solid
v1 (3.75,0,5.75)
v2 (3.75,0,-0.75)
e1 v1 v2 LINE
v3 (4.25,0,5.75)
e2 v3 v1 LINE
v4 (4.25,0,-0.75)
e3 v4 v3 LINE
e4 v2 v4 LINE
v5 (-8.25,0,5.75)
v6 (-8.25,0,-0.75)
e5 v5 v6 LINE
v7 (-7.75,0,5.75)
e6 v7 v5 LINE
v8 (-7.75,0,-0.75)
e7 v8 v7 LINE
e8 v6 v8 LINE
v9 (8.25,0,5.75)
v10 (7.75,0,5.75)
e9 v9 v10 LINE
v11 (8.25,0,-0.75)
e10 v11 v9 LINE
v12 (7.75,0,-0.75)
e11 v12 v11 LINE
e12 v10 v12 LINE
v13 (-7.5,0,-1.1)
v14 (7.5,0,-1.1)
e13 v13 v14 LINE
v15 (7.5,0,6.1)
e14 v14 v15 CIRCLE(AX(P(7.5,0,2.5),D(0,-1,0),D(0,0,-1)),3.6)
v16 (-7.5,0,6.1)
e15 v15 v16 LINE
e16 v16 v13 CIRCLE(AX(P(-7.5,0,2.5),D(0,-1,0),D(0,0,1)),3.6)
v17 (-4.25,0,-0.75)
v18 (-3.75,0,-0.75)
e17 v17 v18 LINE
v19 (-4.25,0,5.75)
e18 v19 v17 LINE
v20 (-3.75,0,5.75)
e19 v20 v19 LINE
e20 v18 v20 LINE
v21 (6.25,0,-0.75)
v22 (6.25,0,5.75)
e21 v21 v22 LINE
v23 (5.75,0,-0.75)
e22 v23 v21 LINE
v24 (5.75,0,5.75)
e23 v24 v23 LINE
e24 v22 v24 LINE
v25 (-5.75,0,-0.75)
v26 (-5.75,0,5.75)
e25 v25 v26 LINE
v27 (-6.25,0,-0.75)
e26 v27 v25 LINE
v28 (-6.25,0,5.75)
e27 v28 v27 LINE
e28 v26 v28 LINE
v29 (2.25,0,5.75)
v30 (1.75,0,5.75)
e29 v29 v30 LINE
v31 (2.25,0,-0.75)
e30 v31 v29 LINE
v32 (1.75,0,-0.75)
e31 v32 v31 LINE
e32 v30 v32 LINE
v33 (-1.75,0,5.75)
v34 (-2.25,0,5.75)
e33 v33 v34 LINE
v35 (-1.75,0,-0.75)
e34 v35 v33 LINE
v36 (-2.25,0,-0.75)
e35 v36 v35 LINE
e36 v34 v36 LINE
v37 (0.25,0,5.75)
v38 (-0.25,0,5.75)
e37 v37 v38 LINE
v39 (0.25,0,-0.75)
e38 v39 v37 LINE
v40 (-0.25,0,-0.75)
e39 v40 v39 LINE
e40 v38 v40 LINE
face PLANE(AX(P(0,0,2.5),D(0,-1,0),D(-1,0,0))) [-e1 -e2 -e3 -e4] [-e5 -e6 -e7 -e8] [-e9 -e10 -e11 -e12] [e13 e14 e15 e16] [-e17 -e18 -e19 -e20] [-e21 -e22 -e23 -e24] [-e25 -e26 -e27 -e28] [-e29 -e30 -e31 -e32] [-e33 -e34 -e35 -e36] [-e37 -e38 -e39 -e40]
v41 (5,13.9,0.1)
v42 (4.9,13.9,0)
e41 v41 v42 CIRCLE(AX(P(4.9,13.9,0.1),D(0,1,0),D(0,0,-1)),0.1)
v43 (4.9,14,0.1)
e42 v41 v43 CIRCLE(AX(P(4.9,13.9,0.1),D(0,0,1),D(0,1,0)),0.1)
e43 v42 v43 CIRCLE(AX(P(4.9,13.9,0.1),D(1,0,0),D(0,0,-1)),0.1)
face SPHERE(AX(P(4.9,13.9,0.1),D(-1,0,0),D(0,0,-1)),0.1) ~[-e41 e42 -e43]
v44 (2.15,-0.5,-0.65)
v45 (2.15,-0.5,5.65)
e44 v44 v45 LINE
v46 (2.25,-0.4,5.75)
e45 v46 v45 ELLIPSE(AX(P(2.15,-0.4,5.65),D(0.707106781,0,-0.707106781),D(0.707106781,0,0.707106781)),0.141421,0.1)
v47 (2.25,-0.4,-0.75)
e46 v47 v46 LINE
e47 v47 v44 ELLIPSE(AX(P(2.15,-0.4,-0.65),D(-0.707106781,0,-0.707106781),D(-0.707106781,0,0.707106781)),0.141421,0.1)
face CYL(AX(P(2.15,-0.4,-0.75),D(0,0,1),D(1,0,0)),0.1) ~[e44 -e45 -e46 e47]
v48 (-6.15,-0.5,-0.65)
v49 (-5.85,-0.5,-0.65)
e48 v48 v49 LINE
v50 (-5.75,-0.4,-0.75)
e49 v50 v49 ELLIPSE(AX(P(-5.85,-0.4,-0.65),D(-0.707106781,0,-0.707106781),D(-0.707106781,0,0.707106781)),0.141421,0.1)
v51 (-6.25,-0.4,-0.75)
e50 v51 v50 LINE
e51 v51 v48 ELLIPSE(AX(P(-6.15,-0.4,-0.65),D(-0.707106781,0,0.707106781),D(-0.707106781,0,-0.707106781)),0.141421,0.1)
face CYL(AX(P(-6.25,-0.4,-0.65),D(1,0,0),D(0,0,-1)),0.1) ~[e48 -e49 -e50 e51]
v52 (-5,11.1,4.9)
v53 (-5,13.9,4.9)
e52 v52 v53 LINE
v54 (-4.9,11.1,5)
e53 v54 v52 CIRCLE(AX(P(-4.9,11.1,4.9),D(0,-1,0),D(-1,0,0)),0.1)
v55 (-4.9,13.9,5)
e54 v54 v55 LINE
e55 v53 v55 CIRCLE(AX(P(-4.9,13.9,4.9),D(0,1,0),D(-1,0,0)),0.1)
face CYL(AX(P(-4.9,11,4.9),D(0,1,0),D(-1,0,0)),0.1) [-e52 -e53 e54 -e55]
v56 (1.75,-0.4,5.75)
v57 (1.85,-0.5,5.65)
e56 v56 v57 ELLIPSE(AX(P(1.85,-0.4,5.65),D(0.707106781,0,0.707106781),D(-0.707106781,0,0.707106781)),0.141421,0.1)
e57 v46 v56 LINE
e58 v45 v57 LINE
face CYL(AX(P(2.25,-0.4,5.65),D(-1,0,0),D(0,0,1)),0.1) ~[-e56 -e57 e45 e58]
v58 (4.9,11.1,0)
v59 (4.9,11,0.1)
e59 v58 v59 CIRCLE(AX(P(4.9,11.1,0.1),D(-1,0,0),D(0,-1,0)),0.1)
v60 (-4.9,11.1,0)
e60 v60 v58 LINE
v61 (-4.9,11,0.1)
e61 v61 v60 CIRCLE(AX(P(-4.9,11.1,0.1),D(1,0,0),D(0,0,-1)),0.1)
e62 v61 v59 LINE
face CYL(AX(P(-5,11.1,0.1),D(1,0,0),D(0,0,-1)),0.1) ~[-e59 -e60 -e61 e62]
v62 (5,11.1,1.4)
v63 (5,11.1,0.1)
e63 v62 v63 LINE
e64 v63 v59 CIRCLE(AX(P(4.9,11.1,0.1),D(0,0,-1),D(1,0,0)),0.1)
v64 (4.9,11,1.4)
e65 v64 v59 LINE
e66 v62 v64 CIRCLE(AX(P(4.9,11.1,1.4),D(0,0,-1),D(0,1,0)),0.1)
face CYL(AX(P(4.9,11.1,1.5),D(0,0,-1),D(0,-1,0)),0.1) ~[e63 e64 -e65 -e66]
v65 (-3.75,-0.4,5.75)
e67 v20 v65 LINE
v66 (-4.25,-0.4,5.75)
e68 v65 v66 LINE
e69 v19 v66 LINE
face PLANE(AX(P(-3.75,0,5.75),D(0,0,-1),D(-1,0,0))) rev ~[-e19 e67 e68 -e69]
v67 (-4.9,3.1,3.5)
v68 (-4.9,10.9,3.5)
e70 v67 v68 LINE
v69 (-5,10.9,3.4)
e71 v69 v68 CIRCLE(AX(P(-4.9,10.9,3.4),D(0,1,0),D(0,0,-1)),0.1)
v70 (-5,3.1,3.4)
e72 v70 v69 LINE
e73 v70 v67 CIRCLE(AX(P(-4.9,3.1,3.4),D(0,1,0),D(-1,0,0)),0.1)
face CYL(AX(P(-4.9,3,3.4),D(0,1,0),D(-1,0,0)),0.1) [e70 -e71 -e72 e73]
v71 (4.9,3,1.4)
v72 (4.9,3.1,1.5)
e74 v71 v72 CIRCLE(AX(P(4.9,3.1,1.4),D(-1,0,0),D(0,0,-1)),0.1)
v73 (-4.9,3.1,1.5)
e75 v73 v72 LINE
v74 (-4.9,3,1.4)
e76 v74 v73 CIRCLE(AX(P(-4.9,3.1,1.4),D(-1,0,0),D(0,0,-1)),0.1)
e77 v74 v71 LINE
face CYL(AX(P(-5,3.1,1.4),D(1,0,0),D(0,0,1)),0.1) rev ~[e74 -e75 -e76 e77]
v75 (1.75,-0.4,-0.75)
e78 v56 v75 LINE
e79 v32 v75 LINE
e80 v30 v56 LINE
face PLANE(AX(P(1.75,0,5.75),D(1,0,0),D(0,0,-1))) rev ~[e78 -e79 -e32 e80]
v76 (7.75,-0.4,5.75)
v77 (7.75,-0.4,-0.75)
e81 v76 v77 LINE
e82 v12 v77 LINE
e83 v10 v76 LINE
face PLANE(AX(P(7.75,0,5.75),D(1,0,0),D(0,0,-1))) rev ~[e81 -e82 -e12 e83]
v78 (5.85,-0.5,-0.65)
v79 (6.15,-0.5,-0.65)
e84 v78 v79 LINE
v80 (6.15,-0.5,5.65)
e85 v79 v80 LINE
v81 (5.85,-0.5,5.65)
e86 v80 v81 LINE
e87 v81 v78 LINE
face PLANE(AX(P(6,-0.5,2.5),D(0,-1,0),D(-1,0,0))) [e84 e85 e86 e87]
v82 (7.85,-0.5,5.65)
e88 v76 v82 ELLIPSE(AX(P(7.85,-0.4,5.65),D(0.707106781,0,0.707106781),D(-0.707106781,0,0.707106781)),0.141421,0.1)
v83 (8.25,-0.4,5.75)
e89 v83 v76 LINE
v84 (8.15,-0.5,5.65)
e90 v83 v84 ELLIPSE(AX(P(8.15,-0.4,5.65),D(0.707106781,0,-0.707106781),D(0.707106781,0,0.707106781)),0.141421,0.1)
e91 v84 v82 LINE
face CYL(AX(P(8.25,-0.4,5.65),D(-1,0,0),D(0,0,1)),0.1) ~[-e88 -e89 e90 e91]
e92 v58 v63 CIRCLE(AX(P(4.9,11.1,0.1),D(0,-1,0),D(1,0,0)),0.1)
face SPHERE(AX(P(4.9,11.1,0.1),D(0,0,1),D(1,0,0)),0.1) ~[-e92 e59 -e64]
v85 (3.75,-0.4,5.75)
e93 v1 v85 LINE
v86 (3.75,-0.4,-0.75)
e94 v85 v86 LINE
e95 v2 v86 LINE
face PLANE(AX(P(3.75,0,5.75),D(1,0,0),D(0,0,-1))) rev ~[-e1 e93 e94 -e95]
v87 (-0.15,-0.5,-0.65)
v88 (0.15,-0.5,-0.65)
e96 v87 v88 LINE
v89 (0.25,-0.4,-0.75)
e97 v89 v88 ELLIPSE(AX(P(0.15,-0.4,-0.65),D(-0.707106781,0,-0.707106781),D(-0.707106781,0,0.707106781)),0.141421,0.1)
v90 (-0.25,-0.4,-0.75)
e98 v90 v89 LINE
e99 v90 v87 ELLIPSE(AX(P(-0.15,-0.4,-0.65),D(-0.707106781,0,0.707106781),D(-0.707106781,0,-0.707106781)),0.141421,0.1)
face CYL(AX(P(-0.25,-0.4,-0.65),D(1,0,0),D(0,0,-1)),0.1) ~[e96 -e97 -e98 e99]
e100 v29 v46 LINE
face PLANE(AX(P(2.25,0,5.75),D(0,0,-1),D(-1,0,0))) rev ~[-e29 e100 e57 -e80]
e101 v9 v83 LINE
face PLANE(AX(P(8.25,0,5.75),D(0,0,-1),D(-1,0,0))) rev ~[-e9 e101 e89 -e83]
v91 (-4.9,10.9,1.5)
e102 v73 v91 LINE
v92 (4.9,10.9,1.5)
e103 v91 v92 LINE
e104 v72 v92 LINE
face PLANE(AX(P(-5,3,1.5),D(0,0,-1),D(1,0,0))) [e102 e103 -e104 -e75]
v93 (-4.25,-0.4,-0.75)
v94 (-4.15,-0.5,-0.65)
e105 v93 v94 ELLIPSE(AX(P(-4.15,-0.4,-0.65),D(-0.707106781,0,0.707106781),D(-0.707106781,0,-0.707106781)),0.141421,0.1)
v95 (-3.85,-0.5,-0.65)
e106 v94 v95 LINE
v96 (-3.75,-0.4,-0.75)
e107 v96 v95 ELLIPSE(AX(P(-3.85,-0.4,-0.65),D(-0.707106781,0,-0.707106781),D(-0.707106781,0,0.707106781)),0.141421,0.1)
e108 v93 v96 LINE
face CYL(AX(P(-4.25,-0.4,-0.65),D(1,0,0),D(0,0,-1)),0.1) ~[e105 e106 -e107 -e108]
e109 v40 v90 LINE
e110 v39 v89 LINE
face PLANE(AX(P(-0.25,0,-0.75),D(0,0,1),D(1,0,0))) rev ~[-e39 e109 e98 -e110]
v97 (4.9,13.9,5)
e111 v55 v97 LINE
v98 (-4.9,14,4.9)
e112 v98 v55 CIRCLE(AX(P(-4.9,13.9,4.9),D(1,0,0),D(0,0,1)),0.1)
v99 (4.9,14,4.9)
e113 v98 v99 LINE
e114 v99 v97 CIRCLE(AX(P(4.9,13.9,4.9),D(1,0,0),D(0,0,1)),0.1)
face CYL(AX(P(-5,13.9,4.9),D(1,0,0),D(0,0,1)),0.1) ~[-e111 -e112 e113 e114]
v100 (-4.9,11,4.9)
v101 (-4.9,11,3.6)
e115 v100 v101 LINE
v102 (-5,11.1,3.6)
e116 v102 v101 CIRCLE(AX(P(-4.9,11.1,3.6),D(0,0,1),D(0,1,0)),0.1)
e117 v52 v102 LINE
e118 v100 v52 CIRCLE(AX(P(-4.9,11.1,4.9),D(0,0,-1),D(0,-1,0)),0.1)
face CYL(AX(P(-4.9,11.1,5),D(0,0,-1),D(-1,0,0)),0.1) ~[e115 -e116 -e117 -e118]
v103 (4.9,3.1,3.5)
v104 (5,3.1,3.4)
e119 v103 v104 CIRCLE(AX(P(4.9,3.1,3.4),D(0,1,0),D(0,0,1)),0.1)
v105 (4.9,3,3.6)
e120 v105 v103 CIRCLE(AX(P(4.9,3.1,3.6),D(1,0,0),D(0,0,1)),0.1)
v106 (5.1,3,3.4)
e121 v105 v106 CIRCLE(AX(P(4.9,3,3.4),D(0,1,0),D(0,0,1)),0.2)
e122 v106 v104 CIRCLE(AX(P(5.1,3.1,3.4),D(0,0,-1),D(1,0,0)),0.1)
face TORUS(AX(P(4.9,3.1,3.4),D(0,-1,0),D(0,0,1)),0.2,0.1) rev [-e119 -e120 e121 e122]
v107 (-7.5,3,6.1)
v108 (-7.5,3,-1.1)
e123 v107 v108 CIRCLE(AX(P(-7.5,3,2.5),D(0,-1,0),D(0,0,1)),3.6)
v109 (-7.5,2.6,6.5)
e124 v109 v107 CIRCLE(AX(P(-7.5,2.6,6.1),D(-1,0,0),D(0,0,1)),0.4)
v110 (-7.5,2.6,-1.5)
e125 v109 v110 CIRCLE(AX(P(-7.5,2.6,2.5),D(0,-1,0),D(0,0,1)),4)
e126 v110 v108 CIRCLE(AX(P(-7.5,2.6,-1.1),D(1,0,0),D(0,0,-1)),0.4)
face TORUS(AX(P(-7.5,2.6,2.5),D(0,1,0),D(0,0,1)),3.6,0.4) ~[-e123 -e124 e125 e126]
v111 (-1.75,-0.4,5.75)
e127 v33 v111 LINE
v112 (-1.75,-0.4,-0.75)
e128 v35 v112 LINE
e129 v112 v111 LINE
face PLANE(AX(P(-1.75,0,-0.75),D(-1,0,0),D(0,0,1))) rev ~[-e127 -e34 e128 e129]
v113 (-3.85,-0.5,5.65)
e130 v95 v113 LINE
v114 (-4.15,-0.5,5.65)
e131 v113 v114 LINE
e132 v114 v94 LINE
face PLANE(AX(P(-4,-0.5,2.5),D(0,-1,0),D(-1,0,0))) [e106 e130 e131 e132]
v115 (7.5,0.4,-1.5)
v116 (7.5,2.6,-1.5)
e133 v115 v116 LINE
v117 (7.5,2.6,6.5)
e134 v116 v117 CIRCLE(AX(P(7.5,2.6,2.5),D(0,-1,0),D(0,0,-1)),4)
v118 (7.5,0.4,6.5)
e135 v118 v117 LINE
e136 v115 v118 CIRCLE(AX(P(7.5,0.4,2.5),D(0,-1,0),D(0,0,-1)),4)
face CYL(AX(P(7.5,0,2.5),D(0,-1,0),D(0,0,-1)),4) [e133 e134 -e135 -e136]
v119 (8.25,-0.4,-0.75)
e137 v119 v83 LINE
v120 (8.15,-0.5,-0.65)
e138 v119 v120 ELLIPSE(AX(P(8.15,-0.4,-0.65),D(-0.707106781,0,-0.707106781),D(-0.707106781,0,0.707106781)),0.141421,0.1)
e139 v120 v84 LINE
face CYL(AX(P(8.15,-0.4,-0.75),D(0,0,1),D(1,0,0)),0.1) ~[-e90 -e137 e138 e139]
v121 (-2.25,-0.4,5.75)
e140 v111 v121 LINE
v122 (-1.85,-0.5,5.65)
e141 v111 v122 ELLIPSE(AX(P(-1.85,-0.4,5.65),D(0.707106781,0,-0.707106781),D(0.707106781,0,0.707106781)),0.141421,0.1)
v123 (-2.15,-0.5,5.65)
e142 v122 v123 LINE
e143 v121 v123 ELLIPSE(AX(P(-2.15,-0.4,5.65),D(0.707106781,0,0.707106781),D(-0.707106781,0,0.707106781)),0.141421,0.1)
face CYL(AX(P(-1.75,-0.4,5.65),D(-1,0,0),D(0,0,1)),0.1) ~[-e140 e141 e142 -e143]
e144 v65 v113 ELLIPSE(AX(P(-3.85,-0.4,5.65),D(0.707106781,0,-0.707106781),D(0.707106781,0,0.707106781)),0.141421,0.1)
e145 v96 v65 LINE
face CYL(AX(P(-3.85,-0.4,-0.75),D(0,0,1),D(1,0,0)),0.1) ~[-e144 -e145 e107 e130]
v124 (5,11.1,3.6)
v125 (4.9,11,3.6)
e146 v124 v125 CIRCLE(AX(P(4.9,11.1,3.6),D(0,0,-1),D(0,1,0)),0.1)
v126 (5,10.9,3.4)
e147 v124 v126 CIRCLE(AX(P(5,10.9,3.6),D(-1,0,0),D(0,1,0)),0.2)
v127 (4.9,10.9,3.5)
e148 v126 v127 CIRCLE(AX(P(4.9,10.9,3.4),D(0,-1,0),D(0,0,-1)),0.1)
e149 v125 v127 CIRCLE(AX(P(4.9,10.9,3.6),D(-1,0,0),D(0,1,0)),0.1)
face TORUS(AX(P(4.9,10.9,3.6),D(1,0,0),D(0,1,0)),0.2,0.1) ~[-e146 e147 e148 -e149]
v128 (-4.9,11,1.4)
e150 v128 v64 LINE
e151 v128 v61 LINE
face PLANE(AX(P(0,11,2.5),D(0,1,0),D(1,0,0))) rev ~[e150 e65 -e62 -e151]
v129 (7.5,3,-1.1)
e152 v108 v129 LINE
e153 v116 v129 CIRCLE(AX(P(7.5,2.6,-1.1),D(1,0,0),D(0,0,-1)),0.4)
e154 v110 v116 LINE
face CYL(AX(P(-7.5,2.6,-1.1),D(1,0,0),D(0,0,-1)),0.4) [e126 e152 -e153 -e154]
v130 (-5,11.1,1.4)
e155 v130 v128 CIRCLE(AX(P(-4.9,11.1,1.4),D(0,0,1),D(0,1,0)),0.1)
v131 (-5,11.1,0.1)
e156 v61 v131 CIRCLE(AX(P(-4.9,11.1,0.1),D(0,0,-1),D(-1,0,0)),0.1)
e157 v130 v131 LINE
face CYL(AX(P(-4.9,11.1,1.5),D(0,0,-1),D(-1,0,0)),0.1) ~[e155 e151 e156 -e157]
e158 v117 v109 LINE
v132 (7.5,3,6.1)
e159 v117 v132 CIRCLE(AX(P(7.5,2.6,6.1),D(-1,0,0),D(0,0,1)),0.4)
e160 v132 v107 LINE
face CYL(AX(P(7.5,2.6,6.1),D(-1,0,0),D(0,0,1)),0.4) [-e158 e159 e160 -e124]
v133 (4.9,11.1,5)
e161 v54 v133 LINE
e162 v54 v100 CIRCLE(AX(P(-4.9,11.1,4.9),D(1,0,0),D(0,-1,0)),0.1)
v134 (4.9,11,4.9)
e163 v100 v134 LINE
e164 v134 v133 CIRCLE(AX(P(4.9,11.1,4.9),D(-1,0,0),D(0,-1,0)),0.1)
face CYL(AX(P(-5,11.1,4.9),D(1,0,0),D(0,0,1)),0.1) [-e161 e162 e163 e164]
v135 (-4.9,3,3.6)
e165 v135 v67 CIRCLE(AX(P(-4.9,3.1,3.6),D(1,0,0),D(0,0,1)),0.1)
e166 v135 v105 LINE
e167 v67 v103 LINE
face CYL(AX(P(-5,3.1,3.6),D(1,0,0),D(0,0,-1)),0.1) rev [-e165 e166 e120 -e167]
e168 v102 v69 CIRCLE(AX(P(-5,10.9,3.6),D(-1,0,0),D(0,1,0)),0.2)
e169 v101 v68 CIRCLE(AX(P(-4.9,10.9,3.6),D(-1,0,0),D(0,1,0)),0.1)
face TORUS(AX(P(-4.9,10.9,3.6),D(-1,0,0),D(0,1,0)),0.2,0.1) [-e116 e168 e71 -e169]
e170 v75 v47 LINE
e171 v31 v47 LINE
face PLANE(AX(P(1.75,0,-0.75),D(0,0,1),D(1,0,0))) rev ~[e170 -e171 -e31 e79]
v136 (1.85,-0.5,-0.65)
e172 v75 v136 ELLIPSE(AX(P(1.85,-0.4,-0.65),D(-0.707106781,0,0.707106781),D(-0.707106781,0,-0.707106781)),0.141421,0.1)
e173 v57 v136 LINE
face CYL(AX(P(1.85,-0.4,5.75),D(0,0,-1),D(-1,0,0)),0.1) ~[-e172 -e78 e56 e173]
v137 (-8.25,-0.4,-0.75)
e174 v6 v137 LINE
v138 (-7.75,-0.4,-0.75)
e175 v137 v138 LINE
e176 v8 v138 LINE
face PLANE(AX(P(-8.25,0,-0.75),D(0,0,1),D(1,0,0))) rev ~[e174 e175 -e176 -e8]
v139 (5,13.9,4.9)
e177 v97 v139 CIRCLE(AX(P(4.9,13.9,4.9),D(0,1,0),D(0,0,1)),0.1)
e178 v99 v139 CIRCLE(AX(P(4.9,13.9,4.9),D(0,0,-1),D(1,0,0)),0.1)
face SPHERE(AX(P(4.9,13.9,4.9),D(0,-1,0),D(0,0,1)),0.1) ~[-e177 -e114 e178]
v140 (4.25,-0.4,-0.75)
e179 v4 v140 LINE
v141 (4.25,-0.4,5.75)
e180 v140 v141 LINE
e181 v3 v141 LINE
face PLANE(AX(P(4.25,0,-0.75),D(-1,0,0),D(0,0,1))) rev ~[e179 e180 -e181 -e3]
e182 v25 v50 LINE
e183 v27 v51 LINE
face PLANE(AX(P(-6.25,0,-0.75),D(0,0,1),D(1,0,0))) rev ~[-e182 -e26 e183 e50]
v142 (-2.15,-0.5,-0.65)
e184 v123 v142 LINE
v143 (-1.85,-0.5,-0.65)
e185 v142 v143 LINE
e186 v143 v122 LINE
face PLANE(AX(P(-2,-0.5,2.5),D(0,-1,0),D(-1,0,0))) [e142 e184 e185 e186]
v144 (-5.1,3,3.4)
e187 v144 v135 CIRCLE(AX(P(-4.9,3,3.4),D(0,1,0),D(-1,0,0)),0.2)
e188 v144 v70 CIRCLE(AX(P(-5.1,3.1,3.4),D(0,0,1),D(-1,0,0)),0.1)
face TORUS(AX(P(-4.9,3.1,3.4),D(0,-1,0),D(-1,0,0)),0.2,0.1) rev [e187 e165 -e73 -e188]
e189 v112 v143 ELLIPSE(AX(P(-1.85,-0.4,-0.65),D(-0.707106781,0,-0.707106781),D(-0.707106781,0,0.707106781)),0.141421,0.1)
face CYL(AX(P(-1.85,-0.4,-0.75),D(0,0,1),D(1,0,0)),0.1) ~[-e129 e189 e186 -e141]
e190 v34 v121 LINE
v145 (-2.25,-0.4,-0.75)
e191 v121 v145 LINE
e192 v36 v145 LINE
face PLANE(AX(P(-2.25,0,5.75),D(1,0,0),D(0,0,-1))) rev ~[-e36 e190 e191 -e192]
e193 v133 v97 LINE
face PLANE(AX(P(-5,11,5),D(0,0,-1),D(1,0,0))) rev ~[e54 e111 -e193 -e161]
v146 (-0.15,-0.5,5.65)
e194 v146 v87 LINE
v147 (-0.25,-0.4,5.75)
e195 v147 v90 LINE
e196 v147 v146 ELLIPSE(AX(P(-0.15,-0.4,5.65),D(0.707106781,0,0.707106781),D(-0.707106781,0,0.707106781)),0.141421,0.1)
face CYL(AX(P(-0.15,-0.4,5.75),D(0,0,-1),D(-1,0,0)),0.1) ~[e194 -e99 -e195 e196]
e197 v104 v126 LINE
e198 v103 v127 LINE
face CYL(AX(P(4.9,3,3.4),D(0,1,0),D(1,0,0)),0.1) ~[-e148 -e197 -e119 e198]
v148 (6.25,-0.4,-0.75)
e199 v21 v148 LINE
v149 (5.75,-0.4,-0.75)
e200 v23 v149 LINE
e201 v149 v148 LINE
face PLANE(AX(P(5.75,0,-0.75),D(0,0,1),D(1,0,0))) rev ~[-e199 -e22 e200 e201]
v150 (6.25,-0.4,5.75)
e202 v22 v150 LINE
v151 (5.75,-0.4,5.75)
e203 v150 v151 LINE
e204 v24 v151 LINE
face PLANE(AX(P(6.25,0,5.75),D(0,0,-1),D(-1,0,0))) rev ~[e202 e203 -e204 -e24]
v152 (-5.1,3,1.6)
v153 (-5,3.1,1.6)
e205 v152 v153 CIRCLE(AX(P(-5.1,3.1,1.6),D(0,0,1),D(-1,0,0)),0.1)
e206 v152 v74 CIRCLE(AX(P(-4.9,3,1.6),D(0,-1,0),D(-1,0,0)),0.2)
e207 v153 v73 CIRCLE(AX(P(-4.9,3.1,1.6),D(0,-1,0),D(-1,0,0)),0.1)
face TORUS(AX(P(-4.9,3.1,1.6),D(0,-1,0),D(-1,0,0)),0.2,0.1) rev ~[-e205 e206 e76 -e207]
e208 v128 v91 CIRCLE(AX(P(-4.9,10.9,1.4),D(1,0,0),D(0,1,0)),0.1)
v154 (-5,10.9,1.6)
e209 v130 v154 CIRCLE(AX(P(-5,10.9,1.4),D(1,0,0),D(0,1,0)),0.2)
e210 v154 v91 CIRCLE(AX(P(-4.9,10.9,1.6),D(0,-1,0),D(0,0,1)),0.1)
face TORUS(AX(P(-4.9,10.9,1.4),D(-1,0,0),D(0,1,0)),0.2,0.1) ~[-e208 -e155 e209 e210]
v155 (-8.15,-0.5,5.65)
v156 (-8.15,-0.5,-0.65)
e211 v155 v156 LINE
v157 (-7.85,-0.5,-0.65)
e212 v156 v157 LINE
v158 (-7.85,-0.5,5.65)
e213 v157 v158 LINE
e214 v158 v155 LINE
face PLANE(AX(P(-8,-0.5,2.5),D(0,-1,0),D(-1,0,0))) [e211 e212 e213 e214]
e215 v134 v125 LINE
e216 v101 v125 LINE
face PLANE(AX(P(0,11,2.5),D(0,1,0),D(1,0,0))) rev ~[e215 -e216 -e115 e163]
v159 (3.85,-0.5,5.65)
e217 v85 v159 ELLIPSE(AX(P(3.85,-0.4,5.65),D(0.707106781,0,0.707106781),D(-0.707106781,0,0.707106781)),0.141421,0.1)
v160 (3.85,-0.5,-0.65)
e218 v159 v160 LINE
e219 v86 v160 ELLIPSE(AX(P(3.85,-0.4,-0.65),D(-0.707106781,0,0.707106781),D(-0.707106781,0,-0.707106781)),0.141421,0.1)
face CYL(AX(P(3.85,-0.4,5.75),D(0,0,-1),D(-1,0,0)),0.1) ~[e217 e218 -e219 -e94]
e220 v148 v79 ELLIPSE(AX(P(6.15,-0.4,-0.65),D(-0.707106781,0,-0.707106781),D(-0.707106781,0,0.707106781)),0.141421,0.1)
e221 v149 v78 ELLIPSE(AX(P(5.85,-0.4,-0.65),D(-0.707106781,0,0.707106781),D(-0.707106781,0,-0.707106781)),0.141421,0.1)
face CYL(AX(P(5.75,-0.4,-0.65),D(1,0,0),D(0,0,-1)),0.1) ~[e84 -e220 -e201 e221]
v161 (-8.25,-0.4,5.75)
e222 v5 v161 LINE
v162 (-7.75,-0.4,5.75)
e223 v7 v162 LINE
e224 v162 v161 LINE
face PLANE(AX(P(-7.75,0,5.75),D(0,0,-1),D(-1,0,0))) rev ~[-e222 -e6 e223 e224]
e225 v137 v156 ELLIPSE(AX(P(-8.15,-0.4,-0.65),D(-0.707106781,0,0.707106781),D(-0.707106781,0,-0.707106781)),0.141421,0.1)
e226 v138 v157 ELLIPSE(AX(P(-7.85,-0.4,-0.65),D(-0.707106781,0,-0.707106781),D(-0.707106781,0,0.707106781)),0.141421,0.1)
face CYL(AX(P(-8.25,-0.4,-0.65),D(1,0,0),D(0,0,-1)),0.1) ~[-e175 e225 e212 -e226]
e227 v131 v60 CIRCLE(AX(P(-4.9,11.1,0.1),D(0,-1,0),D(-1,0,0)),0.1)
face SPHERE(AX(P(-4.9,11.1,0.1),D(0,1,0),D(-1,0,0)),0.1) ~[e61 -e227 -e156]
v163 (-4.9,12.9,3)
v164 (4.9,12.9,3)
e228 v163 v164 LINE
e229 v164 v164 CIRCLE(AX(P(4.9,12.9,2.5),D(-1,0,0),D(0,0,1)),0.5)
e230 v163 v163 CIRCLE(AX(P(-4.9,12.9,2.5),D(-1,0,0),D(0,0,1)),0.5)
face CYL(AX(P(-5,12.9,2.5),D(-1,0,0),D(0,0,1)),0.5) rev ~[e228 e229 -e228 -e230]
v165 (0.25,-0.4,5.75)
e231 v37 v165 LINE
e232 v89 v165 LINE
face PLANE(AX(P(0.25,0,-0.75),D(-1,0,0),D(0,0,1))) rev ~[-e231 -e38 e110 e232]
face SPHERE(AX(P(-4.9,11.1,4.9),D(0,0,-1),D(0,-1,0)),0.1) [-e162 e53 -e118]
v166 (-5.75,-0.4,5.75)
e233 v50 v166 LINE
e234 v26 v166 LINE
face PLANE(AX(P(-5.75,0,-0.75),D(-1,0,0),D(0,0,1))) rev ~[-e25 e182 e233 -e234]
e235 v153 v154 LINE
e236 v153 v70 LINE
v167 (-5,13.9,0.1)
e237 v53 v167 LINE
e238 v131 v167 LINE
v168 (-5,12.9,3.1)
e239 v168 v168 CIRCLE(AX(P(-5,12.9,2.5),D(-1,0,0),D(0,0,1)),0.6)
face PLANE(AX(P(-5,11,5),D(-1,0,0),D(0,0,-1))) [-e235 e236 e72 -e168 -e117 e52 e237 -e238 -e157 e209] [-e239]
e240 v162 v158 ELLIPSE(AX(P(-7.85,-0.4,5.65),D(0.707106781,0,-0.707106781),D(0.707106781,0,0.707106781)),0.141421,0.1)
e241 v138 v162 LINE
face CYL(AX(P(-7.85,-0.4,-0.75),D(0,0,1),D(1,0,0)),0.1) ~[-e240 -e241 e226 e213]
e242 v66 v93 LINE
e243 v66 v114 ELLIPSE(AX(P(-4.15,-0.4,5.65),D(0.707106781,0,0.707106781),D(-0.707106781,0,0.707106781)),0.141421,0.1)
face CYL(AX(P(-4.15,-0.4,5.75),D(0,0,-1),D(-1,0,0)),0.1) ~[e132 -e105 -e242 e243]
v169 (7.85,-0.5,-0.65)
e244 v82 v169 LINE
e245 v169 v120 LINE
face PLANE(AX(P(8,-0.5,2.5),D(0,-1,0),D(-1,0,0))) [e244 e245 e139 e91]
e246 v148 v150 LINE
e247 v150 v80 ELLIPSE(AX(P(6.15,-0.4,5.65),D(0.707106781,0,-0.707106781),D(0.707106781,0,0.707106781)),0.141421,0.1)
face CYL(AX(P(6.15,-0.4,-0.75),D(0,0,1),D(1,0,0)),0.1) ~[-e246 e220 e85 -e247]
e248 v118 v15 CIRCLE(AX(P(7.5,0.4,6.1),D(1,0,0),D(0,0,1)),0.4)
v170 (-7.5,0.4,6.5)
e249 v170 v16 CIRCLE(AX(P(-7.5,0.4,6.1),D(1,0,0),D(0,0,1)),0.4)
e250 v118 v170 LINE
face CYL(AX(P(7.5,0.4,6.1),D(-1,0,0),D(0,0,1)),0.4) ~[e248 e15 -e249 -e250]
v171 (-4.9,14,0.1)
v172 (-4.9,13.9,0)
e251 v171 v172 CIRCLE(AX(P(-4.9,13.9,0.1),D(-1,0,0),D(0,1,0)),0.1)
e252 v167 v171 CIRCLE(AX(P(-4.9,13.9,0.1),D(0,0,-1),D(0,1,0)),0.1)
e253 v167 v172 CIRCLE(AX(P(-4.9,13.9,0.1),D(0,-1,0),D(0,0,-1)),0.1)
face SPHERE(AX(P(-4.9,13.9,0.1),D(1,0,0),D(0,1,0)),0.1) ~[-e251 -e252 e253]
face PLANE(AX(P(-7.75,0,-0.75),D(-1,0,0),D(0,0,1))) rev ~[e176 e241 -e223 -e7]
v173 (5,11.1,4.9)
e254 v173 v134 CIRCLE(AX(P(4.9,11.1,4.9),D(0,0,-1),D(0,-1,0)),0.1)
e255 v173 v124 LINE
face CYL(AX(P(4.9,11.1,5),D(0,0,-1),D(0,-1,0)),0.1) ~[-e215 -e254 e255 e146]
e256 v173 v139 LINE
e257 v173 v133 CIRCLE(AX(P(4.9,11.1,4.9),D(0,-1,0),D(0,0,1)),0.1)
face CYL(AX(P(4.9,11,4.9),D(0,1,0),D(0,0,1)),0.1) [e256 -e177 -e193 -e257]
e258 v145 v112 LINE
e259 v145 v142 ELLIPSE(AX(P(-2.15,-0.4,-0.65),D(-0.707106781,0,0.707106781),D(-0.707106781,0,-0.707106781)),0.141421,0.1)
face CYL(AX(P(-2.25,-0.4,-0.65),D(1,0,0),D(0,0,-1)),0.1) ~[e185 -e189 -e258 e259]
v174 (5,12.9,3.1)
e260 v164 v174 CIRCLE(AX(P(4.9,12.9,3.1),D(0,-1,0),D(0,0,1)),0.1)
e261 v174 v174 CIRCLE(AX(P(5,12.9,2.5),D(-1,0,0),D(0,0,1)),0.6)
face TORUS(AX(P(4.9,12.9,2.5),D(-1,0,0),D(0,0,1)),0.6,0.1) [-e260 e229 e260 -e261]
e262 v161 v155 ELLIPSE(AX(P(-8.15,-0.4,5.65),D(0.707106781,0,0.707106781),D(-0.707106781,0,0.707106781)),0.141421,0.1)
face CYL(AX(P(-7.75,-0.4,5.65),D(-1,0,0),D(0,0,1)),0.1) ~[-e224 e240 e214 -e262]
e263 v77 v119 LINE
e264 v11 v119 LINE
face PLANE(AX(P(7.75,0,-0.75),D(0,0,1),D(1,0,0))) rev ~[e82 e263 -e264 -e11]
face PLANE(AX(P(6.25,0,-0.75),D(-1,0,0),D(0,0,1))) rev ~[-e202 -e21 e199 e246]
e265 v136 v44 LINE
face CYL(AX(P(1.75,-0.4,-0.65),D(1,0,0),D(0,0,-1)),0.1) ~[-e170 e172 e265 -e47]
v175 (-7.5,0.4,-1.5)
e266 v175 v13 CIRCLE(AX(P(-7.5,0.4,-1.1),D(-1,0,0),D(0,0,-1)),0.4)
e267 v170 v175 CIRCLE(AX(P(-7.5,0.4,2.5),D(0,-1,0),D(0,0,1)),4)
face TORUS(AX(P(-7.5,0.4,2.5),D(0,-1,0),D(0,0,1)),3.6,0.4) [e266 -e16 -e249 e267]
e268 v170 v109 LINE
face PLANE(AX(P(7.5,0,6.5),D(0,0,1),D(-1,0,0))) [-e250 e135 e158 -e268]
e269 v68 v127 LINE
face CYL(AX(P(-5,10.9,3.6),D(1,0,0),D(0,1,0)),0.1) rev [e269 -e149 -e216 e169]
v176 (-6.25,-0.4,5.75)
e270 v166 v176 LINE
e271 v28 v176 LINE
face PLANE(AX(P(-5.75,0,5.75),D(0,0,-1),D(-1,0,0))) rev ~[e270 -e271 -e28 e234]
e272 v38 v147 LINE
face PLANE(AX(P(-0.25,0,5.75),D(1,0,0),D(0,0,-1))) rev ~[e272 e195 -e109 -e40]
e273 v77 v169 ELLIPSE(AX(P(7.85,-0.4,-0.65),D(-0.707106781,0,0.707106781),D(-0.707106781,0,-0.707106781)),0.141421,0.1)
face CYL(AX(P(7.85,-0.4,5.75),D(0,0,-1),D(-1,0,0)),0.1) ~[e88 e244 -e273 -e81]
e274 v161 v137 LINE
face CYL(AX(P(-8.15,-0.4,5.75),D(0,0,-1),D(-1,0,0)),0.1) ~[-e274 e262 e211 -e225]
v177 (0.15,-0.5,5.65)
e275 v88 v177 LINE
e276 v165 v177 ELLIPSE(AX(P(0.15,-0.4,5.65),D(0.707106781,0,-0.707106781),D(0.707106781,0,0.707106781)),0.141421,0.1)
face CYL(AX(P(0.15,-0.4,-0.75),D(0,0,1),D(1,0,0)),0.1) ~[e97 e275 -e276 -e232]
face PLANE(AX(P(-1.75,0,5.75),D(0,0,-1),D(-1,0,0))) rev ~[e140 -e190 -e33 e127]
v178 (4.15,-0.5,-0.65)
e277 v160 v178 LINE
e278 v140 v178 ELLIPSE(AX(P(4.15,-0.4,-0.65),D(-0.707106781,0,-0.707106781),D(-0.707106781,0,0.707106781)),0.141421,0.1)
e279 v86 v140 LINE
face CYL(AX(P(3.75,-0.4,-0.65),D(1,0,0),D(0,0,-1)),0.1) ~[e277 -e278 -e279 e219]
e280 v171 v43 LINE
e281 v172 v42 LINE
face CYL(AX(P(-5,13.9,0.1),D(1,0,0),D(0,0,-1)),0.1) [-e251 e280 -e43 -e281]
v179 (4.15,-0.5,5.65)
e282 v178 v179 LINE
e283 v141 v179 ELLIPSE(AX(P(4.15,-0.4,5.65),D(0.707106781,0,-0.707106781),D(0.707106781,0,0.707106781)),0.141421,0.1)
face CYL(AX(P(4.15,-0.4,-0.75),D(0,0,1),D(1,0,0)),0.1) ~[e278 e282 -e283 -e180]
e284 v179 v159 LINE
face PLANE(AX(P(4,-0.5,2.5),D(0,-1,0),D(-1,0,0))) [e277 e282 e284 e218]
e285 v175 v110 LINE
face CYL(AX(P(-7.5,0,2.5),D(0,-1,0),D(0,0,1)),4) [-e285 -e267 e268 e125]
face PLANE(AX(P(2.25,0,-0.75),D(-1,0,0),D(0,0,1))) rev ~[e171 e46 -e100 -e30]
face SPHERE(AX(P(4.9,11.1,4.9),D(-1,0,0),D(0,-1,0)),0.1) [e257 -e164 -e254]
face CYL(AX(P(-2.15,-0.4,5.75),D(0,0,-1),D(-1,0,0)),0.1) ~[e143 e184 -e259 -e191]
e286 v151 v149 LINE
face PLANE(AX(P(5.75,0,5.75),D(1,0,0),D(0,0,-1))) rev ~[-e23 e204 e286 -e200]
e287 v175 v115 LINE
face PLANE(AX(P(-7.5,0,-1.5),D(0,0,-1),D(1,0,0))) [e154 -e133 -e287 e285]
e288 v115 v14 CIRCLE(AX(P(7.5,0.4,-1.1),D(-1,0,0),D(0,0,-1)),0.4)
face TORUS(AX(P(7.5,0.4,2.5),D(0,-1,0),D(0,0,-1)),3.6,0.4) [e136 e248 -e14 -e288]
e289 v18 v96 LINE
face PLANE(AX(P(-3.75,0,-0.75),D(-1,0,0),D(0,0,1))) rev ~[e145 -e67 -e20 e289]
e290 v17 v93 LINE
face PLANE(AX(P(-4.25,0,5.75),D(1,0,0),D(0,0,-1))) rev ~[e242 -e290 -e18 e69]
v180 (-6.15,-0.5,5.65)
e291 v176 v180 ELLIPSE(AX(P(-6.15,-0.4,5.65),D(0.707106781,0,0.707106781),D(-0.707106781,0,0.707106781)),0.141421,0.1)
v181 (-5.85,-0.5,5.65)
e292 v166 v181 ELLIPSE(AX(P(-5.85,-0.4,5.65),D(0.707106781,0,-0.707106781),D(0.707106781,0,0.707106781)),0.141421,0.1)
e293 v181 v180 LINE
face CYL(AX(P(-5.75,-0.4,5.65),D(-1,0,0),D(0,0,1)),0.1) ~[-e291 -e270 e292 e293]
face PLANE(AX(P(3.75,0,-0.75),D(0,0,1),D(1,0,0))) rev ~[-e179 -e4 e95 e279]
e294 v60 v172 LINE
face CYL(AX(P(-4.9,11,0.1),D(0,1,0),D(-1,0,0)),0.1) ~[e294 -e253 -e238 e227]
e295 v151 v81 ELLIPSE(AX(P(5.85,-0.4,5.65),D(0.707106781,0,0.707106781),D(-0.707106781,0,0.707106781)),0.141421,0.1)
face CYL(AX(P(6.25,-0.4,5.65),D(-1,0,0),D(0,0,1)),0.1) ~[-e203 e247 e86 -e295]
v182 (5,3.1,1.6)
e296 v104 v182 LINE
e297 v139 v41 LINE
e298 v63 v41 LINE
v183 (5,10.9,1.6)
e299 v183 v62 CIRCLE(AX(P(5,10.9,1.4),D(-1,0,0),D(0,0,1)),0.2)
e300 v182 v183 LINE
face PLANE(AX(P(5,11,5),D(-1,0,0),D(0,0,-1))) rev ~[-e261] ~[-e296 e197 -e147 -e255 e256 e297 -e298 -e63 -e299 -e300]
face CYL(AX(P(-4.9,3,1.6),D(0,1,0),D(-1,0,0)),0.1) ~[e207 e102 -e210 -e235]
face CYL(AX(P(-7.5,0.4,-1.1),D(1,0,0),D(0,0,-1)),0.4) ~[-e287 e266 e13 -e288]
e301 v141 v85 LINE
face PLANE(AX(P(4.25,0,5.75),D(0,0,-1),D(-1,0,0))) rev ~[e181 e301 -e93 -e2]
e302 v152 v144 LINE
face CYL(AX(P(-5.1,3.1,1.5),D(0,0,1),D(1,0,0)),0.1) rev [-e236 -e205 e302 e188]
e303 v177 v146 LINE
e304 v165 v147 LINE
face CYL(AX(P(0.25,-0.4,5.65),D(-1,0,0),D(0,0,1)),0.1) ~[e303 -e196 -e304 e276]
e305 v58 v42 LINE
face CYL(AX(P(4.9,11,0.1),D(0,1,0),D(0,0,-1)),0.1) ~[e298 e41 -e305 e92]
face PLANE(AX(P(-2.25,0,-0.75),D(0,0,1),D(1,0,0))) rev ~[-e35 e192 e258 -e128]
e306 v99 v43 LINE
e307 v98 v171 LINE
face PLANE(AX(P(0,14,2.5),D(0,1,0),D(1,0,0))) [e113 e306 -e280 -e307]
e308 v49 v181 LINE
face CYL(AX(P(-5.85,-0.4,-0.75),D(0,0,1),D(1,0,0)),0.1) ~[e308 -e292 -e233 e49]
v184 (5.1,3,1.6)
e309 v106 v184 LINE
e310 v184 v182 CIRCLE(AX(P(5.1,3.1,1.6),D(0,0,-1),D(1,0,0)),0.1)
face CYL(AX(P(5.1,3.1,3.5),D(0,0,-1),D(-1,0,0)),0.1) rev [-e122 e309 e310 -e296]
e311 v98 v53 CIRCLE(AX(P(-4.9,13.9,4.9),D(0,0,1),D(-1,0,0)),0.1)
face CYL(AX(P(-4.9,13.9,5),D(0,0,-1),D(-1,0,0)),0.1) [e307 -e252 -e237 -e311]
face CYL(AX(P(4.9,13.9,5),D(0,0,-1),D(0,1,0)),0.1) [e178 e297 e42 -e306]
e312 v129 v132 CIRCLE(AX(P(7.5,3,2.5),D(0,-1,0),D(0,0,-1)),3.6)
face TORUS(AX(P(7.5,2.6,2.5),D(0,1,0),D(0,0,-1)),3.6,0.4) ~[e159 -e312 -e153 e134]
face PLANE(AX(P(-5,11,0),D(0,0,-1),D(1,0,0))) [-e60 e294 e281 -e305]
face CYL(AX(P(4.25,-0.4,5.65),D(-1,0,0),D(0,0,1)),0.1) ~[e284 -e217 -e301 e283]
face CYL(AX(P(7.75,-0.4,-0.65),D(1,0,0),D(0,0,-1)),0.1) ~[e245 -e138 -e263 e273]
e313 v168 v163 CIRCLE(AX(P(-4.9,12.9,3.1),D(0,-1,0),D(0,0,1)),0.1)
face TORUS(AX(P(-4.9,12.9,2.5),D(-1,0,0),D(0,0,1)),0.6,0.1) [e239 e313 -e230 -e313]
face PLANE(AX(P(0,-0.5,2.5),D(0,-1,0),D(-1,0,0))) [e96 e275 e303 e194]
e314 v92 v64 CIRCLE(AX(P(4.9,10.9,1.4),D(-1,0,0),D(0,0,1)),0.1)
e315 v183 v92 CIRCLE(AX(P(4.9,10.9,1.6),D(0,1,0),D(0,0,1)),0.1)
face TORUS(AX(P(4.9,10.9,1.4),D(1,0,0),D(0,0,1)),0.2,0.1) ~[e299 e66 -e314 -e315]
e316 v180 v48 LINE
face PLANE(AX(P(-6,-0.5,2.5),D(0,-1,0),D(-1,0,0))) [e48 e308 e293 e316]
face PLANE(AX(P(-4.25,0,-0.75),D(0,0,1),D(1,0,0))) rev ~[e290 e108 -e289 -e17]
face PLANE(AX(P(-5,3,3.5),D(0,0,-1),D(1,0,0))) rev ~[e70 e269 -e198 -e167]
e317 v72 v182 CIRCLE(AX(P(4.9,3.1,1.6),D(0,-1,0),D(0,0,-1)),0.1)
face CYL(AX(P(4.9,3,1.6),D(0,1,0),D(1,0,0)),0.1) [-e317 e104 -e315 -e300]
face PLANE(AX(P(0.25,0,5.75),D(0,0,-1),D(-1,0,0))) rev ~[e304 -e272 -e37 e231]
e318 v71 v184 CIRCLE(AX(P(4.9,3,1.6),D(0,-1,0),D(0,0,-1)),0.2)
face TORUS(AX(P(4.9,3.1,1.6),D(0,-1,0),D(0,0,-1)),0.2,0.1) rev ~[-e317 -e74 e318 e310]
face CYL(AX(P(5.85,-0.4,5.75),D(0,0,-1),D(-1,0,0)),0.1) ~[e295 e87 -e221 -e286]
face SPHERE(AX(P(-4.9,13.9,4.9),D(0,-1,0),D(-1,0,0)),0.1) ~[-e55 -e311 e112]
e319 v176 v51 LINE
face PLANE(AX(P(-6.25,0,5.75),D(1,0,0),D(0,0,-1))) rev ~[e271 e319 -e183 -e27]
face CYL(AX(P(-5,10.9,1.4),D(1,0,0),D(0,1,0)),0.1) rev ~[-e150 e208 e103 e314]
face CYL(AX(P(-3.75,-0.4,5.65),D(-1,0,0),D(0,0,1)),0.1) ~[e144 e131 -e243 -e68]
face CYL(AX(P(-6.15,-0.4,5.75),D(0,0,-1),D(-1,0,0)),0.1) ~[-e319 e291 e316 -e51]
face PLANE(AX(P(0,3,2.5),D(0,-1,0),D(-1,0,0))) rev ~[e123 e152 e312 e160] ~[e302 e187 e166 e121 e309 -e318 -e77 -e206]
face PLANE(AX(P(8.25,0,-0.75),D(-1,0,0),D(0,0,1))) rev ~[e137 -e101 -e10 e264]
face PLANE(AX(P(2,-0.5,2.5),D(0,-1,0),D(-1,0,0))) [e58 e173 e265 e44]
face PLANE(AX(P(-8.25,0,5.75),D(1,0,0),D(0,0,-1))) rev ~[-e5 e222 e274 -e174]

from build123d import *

# Parameters (mm, degrees)
BOSS_EXTRUDE1_DEPTH = 3
FILLET1_R           = 0.4
BOSS_EXTRUDE5_DEPTH = 0.5
FILLET5_R           = 0.1
SKETCH4_W           = 10
SKETCH4_H           = 1
BOSS_EXTRUDE6_DEPTH = 8
SKETCH6_W           = 10
SKETCH6_H           = 5
BOSS_EXTRUDE7_DEPTH = 3
FILLET6_R           = 0.1
SKETCH8_R           = 0.5
CUT_EXTRUDE1_DEPTH  = 50
FILLET7_R           = 0.1


with BuildPart() as part:
    # Sketch1 → Boss-Extrude1 (new body)
    with BuildSketch(Plane(origin=(0, 0, 0), x_dir=(1, 0, 0), z_dir=(0, 1, 0))):
        with BuildLine():
            Line((-7.5, 1.5), (7.5, 1.5))
            ThreePointArc((7.5, 1.5), (11.5, -2.5), (7.5, -6.5))
            Line((7.5, -6.5), (-7.5, -6.5))
            ThreePointArc((-7.5, -6.5), (-11.5, -2.5), (-7.5, 1.5))
        make_face()
    extrude(amount=BOSS_EXTRUDE1_DEPTH)

    # Fillet1
    fillet1_edges = [part.edges().sort_by_distance(p)[0] for p in [
        (11.5, 3, 2.5),
        (0, 3, -1.5),
        (-11.5, 3, 2.5),
        (0, 0, -1.5),
        (11.5, 0, 2.5),
        (0, 0, 6.5),
        (-11.5, 0, 2.5),
        (0, 3, 6.5),
    ]]
    fillet(fillet1_edges, radius=FILLET1_R)

    # Sketch3 → Boss-Extrude5 (add)
    with BuildSketch(Plane(origin=(0, 0, 0), x_dir=(-1, 0, 0), z_dir=(0, -1, 0))):
        Polygon((0.25, 0.75), (-0.25, 0.75), (-0.25, -0.75), (-0.25, -5.75), (0.25, -5.75), (0.25, -0.75), align=None)
        Polygon((2.25, 0.75), (1.75, 0.75), (1.75, -0.75), (1.75, -5.75), (2.25, -5.75), (2.25, -0.75), align=None)
        Polygon((4.25, 0.75), (3.75, 0.75), (3.75, -0.75), (3.75, -5.75), (4.25, -5.75), (4.25, -0.75), align=None)
        Polygon((6.25, 0.75), (5.75, 0.75), (5.75, -0.75), (5.75, -5.75), (6.25, -5.75), (6.25, -0.75), align=None)
        Polygon((8.25, 0.75), (7.75, 0.75), (7.75, -0.75), (7.75, -5.75), (8.25, -5.75), (8.25, -0.75), align=None)
        Polygon((-1.75, 0.75), (-2.25, 0.75), (-2.25, -0.75), (-2.25, -5.75), (-1.75, -5.75), (-1.75, -0.75), align=None)
        Polygon((-3.75, 0.75), (-4.25, 0.75), (-4.25, -0.75), (-4.25, -5.75), (-3.75, -5.75), (-3.75, -0.75), align=None)
        Polygon((-5.75, 0.75), (-6.25, 0.75), (-6.25, -0.75), (-6.25, -5.75), (-5.75, -5.75), (-5.75, -0.75), align=None)
        Polygon((-7.75, 0.75), (-8.25, 0.75), (-8.25, -0.75), (-8.25, -5.75), (-7.75, -5.75), (-7.75, -0.75), align=None)
    extrude(amount=BOSS_EXTRUDE5_DEPTH)

    # Fillet5
    fillet5_edges = [part.edges().sort_by_distance(p)[0] for p in [
        (2.25, -0.5, 2.5),
        (2, -0.5, 5.75),
        (1.75, -0.5, 2.5),
        (2, -0.5, -0.75),
        (4.25, -0.5, 2.5),
        (4, -0.5, 5.75),
        (3.75, -0.5, 2.5),
        (4, -0.5, -0.75),
        (6.25, -0.5, 2.5),
        (6, -0.5, 5.75),
        (5.75, -0.5, 2.5),
        (6, -0.5, -0.75),
        (8.25, -0.5, 2.5),
        (8, -0.5, 5.75),
        (7.75, -0.5, 2.5),
        (8, -0.5, -0.75),
        (-1.75, -0.5, 2.5),
        (-2, -0.5, 5.75),
        (-2.25, -0.5, 2.5),
        (-2, -0.5, -0.75),
        (0.25, -0.5, 2.5),
        (0, -0.5, 5.75),
        (-0.25, -0.5, 2.5),
        (0, -0.5, -0.75),
        (-3.75, -0.5, 2.5),
        (-4, -0.5, 5.75),
        (-4.25, -0.5, 2.5),
        (-4, -0.5, -0.75),
        (-5.75, -0.5, 2.5),
        (-6, -0.5, 5.75),
        (-6.25, -0.5, 2.5),
        (-6, -0.5, -0.75),
        (-7.75, -0.5, 2.5),
        (-8, -0.5, 5.75),
        (-8.25, -0.5, 2.5),
        (-8, -0.5, -0.75),
    ]]
    fillet(fillet5_edges, radius=FILLET5_R)

    # Sketch4 → Boss-Extrude6 (add)
    with BuildSketch(Plane(origin=(0, 3, 0), x_dir=(1, 0, 0), z_dir=(0, 1, 0))):
        with Locations((0, -2)):
            Rectangle(SKETCH4_W, SKETCH4_H)
        with Locations((0, -3)):
            Rectangle(SKETCH4_W, SKETCH4_H)
    extrude(amount=BOSS_EXTRUDE6_DEPTH)

    # Sketch6 → Boss-Extrude7 (add)
    with BuildSketch(Plane(origin=(0, 11, 0), x_dir=(1, 0, 0), z_dir=(0, 1, 0))):
        with Locations((0, -2.5)):
            Rectangle(SKETCH6_W, SKETCH6_H)
    extrude(amount=BOSS_EXTRUDE7_DEPTH)

    # Fillet6
    fillet6_edges = [part.edges().sort_by_distance(p)[0] for p in [
        (-5, 7, 1.5),
        (0, 3, 3.5),
        (-5, 7, 3.5),
        (5, 3, 2.5),
        (5, 7, 3.5),
        (0, 11, 1.5),
        (5, 7, 1.5),
        (0, 11, 3.5),
        (-5, 3, 2.5),
        (0, 3, 1.5),
        (-5, 11, 4.25),
        (0, 11, 5),
        (-5, 12.5, 5),
        (5, 11, 4.25),
        (5, 11, 0.75),
        (5, 12.5, 5),
        (0, 14, 0),
        (5, 12.5, 0),
        (-5, 14, 2.5),
        (-5, 12.5, 0),
        (0, 14, 5),
        (5, 14, 2.5),
        (-5, 11, 0.75),
        (0, 11, 0),
    ]]
    fillet(fillet6_edges, radius=FILLET6_R)

    # Sketch8 → Cut-Extrude1 (cut)
    with BuildSketch(Plane.ZY.offset(5)):
        with Locations((2.5, 12.9)):
            Circle(SKETCH8_R)
    extrude(amount=-CUT_EXTRUDE1_DEPTH, mode=Mode.SUBTRACT)

    # Fillet7
    fillet7_edges = [part.edges().sort_by_distance(p)[0] for p in [
        (5, 12.9, 2),
        (-5, 12.9, 2),
    ]]
    fillet(fillet7_edges, radius=FILLET7_R)


solid = part.part
